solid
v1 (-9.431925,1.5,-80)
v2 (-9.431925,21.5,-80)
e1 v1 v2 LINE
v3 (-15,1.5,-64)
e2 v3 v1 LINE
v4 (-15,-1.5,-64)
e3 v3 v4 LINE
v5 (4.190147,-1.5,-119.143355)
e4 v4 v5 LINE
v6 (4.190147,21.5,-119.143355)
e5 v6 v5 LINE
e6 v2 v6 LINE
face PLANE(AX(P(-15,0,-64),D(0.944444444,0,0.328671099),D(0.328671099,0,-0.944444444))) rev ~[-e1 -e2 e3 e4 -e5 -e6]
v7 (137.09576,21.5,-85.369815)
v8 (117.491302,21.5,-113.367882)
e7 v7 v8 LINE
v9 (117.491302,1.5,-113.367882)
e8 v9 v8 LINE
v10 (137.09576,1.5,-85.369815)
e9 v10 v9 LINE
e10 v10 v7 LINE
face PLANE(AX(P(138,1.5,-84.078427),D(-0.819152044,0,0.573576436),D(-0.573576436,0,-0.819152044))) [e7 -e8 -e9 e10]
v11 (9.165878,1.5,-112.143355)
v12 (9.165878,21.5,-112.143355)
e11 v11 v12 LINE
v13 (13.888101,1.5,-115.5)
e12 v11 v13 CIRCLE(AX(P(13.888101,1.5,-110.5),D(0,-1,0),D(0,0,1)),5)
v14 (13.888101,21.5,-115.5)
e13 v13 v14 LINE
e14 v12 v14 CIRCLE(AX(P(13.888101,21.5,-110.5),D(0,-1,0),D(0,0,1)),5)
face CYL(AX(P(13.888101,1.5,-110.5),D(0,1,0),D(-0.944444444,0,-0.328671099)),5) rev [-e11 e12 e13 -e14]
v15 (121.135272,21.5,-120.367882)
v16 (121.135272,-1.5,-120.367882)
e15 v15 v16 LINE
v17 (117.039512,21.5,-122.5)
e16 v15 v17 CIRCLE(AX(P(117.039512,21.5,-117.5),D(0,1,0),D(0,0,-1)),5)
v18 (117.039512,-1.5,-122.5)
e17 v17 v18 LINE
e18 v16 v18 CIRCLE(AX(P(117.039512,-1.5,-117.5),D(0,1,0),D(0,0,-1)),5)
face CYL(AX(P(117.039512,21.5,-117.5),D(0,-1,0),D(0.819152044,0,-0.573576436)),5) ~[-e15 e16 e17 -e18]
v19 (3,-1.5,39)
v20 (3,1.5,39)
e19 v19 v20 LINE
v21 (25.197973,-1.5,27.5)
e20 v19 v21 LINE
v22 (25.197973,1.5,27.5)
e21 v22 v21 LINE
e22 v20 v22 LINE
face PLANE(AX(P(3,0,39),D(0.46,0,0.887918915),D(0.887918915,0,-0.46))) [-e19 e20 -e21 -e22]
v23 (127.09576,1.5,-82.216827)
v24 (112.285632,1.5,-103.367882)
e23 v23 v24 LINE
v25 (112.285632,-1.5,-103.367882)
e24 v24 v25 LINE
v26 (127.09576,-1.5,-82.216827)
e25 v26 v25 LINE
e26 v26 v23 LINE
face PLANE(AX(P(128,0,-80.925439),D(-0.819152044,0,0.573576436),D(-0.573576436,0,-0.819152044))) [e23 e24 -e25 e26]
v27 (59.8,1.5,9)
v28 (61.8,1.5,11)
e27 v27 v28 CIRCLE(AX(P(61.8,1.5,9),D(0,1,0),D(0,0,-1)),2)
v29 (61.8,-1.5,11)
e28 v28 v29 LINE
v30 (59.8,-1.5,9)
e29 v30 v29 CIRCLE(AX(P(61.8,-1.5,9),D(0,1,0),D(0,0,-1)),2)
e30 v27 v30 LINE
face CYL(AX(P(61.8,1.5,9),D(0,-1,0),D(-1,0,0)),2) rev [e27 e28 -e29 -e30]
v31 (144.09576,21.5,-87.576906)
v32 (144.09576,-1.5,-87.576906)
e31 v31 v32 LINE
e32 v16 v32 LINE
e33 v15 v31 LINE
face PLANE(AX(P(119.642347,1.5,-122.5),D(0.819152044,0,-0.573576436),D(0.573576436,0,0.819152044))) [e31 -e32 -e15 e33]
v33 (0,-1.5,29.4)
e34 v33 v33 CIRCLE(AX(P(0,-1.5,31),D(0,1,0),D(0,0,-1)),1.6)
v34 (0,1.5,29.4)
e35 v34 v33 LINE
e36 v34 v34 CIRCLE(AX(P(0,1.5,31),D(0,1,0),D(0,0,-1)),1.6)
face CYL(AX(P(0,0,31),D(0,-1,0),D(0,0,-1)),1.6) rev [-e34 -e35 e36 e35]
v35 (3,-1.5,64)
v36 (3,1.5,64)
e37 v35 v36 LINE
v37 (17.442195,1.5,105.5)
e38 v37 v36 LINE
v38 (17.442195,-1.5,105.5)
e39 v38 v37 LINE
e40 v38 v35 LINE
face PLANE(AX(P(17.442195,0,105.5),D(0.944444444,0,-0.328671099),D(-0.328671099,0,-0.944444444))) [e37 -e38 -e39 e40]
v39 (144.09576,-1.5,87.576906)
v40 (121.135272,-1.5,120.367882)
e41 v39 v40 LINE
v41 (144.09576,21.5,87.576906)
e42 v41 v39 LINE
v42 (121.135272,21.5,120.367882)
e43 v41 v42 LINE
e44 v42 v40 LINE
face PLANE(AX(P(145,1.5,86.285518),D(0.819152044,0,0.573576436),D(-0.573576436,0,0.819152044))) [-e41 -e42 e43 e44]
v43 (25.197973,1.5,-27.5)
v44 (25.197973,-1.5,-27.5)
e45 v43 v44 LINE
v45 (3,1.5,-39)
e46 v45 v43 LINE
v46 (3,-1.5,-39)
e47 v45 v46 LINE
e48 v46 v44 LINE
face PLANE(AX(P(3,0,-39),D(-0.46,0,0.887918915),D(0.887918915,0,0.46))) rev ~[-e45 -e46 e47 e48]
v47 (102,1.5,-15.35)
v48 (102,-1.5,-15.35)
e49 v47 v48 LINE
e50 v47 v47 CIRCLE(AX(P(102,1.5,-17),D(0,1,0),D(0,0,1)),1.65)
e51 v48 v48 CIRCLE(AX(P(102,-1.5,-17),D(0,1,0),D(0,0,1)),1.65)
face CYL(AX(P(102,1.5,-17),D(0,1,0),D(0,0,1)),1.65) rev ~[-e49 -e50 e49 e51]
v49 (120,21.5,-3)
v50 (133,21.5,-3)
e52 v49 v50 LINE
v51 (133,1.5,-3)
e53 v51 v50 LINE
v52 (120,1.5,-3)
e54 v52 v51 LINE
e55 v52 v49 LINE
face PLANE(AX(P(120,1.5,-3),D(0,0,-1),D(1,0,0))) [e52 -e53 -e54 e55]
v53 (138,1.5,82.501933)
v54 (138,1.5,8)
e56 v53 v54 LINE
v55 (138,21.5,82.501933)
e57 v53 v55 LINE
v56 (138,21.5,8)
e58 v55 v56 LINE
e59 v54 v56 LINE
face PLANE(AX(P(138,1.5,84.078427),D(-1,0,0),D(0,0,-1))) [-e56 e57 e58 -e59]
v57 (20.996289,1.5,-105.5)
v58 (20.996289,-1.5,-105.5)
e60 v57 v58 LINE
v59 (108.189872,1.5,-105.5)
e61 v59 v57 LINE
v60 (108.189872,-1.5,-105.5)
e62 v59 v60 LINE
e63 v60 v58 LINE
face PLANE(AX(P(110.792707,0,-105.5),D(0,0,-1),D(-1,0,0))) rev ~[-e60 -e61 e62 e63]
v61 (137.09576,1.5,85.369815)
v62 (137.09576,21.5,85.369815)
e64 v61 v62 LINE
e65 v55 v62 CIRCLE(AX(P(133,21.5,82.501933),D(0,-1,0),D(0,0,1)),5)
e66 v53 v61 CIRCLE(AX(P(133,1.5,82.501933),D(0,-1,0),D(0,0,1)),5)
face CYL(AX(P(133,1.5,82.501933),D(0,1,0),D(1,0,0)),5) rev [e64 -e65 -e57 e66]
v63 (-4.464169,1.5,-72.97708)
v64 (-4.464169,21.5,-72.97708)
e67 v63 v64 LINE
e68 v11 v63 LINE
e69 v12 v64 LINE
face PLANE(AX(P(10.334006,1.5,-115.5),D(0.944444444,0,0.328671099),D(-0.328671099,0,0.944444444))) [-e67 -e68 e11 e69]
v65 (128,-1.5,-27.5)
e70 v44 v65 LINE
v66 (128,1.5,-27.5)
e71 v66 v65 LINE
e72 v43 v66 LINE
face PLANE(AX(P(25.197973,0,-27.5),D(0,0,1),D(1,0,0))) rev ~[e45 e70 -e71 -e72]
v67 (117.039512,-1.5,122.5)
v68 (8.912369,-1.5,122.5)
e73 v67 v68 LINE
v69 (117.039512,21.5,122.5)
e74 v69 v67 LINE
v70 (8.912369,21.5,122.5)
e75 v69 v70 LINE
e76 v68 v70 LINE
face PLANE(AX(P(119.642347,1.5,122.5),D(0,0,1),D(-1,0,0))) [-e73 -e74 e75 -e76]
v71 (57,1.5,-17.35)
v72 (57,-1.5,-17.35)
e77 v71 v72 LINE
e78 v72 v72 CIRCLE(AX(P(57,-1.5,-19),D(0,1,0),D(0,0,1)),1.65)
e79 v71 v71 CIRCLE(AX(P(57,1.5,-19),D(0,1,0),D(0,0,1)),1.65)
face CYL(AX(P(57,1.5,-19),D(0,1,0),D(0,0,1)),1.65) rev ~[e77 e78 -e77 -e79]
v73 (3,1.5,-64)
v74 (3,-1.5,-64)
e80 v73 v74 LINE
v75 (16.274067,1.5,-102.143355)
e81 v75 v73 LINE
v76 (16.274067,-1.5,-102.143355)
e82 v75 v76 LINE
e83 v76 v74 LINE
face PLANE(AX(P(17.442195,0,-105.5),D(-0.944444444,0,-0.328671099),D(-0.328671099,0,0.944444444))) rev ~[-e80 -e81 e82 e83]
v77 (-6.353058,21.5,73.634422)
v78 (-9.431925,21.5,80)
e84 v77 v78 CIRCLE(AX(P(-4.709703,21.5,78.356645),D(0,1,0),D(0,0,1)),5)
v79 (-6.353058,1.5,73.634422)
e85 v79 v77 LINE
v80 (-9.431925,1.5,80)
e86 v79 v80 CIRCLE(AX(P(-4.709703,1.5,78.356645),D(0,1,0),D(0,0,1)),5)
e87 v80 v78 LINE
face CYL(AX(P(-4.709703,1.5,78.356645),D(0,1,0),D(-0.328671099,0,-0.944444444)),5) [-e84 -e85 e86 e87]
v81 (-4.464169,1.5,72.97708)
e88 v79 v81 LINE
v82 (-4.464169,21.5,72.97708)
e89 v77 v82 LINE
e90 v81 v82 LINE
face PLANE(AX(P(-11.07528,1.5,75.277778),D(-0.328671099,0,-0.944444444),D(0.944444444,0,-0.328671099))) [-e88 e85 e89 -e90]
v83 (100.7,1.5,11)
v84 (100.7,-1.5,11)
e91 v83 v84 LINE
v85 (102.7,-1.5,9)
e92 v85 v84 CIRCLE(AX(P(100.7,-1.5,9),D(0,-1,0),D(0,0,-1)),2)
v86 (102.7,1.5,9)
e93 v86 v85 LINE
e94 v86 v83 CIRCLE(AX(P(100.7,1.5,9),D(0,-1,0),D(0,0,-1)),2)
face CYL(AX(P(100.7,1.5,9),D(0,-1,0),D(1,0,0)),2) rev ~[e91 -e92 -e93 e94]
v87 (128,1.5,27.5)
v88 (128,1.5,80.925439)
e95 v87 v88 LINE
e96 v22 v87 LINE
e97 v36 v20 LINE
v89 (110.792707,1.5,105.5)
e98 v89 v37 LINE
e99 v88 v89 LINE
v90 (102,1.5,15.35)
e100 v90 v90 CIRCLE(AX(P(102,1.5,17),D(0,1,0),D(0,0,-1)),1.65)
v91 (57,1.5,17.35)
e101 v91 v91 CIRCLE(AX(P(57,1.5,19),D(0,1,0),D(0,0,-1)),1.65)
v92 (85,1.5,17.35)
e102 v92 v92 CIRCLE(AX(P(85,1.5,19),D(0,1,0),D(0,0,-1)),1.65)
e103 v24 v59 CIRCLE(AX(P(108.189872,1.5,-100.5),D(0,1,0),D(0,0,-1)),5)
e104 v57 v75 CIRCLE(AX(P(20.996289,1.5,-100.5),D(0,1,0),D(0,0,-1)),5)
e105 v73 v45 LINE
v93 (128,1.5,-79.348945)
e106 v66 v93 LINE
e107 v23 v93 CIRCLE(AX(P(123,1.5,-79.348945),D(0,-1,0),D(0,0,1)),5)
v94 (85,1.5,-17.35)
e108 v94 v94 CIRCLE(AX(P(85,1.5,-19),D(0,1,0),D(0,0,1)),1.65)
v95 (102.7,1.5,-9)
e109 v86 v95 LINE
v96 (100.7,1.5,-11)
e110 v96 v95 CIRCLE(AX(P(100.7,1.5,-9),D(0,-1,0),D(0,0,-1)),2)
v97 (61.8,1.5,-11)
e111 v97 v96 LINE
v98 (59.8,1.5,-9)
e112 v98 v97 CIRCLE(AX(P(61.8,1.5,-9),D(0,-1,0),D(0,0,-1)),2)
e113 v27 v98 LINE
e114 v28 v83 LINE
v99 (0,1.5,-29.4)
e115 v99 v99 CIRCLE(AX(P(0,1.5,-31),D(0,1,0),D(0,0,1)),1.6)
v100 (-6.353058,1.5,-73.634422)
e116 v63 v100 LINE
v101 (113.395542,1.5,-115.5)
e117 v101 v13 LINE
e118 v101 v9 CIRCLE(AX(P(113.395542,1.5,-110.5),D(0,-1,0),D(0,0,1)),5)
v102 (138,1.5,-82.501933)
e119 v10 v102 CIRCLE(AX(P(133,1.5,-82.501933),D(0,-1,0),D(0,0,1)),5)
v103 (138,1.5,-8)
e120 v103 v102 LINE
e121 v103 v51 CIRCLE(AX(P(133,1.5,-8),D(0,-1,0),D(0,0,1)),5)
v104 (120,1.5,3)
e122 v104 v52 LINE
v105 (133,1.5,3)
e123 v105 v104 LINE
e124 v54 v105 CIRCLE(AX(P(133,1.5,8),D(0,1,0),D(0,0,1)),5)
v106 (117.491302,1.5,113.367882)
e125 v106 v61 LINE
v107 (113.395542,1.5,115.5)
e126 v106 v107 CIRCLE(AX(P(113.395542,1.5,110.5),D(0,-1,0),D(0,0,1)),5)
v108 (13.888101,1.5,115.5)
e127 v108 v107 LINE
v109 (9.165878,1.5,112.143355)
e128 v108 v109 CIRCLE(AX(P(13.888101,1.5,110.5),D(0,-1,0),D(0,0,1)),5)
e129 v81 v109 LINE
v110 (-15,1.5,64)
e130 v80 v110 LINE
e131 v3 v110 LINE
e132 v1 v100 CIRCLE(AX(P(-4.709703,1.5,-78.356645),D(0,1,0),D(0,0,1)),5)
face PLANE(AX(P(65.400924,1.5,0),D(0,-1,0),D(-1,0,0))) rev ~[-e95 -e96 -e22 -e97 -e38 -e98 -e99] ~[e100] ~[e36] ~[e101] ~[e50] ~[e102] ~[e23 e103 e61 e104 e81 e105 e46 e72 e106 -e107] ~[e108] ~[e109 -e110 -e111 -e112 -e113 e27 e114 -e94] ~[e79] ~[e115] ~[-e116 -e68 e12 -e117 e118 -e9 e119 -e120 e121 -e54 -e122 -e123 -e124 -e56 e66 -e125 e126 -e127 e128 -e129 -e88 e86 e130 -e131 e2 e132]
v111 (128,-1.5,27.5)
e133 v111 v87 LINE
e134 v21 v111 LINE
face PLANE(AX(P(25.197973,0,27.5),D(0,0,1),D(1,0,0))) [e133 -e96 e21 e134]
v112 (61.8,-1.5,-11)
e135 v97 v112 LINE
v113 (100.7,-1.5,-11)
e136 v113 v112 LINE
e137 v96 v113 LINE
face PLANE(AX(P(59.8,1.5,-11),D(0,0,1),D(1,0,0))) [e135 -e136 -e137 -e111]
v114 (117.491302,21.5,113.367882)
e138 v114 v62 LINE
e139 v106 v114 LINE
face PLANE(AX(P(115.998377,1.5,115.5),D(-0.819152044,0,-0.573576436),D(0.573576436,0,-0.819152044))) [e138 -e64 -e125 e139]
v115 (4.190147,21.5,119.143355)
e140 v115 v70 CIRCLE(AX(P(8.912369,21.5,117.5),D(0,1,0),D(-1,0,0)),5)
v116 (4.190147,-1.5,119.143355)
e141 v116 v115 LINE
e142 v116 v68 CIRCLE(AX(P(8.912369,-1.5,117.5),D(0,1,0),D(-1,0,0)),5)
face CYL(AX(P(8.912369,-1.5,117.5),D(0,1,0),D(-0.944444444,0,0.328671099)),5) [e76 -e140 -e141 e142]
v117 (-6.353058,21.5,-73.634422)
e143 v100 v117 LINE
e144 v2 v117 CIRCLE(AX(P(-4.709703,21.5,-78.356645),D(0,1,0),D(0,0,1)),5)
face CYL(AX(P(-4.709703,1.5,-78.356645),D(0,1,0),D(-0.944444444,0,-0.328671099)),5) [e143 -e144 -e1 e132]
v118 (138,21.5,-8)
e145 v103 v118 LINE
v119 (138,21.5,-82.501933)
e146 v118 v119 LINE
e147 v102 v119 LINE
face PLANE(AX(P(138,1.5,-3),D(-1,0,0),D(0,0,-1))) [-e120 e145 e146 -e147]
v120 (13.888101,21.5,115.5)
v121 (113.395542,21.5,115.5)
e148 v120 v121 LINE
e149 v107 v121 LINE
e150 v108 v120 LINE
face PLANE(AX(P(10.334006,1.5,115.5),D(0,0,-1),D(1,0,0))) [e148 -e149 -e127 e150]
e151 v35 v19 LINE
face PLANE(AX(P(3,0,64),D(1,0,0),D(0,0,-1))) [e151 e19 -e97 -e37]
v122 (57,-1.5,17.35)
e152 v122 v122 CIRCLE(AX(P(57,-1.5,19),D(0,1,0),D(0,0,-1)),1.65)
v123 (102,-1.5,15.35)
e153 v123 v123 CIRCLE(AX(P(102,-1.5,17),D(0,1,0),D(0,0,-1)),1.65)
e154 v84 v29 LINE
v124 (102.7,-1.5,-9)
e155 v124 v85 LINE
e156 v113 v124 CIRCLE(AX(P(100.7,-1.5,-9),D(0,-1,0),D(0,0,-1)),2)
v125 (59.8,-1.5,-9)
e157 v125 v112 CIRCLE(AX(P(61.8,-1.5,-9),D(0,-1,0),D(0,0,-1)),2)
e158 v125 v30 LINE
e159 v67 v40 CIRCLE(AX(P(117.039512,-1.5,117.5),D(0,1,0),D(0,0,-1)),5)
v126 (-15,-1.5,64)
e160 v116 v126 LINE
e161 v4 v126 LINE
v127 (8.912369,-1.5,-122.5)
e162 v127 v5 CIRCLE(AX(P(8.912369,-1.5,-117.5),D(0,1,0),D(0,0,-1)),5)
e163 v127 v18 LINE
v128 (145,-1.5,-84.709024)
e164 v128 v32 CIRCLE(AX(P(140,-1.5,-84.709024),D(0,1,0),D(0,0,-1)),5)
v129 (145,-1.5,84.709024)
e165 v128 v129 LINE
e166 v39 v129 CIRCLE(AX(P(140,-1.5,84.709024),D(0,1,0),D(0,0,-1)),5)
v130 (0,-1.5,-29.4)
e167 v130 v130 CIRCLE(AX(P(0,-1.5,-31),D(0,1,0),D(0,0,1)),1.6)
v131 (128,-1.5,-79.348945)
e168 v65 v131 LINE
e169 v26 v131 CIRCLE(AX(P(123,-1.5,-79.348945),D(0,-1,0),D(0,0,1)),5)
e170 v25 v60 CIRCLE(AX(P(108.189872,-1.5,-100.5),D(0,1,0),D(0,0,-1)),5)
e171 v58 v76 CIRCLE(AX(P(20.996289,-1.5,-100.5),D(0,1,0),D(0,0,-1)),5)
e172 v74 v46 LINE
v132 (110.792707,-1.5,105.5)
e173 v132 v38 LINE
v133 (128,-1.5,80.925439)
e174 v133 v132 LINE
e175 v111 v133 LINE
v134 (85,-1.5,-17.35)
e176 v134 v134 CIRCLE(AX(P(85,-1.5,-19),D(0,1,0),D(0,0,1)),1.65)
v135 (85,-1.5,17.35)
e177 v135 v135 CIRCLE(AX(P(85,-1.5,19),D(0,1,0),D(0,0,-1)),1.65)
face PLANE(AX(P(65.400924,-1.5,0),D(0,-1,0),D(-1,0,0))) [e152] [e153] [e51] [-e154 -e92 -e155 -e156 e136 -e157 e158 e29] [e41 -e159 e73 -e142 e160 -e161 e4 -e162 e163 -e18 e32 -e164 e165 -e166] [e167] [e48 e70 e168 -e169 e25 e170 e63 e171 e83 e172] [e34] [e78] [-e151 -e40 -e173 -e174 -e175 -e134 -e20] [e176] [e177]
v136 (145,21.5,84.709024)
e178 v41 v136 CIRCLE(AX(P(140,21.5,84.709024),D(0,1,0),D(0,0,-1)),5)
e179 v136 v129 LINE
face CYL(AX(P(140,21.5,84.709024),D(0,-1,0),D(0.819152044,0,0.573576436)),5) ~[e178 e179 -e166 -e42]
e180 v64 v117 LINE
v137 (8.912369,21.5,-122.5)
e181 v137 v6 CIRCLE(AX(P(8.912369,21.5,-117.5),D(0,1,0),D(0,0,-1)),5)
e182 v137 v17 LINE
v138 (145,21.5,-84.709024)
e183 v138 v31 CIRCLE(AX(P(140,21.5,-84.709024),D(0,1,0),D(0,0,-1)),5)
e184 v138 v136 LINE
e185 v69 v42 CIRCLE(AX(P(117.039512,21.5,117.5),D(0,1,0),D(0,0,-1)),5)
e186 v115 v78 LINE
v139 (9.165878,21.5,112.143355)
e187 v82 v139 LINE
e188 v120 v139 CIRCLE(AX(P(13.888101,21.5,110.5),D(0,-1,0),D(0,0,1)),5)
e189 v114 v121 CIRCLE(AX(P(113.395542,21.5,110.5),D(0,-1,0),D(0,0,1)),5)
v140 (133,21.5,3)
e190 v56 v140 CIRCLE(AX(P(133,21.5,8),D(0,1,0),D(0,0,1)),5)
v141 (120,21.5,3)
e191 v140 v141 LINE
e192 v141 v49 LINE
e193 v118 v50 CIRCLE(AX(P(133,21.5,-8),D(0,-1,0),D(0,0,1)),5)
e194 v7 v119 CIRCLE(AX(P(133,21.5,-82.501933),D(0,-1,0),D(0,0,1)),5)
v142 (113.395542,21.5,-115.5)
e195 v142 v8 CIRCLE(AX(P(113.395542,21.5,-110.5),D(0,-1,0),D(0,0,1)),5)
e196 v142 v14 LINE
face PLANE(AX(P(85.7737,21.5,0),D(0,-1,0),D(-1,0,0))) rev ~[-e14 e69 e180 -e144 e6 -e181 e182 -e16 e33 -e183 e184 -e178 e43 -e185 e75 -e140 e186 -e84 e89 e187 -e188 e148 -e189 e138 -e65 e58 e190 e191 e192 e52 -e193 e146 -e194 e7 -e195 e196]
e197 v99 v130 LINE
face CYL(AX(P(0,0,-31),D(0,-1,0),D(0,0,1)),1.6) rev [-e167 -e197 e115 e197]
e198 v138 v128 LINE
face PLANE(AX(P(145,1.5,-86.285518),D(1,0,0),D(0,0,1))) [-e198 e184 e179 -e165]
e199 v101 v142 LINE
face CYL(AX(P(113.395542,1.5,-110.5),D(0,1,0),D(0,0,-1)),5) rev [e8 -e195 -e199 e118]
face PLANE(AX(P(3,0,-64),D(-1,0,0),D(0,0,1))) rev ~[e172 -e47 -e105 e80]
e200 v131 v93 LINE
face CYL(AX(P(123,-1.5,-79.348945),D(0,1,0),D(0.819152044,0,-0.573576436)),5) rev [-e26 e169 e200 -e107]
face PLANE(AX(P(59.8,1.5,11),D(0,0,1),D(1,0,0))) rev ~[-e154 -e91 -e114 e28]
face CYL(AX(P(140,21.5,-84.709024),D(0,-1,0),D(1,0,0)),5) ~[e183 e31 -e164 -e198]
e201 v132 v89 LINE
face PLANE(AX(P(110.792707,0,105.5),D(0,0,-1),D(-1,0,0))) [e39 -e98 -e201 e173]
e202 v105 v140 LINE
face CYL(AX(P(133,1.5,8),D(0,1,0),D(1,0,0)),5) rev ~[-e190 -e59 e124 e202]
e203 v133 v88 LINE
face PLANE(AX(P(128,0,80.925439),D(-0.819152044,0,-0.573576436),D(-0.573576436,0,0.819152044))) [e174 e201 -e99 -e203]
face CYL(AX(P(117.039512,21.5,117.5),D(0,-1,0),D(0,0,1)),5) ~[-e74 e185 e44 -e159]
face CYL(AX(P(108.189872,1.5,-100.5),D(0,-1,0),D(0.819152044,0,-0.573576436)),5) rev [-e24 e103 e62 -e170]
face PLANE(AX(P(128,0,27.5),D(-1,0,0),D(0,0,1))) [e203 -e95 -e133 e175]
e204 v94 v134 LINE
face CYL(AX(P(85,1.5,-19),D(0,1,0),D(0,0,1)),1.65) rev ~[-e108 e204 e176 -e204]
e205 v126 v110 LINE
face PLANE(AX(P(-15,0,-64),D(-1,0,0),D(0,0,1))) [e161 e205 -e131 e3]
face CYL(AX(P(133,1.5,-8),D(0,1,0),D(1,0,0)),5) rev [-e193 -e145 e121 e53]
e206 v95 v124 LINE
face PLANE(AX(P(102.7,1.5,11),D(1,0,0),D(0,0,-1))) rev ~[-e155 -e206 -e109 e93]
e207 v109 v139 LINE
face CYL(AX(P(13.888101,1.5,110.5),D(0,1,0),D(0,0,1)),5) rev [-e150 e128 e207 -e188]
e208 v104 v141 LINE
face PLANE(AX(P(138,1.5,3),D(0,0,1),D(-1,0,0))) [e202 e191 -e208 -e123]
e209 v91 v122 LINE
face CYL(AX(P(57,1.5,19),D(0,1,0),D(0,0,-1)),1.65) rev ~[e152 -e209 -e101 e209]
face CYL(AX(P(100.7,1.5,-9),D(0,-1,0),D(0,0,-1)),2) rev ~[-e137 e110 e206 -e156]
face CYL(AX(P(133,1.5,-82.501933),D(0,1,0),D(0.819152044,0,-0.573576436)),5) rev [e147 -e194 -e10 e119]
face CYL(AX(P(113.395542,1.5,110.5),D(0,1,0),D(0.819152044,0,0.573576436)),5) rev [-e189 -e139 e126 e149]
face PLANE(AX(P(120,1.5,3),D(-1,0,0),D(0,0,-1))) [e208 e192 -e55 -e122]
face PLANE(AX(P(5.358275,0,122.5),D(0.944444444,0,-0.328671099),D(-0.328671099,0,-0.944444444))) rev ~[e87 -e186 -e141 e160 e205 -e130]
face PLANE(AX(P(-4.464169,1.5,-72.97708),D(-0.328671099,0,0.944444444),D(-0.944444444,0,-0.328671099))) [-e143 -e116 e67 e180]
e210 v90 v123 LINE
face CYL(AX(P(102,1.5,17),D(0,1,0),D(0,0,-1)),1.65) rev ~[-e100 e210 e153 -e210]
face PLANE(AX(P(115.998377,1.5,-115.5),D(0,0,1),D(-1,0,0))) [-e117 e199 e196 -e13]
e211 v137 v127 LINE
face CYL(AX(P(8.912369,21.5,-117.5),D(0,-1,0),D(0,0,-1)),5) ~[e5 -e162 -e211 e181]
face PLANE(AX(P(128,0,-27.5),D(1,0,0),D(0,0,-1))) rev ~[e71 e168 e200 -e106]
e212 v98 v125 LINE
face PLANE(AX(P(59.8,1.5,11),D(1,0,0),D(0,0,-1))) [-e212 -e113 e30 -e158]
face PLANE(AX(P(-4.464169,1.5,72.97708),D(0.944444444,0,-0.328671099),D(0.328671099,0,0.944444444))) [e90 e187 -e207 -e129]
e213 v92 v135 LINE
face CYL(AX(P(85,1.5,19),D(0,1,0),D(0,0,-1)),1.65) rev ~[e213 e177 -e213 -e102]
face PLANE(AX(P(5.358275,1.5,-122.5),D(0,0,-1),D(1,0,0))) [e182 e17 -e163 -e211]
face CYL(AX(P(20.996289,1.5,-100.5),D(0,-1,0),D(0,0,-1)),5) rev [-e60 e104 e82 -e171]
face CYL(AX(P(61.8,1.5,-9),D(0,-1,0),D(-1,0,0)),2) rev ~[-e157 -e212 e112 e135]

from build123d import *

# Parameters (mm, degrees)
SKETCH1_R           = 1.5999999999999992
SKETCH1_R_2         = 1.6
BOSS_EXTRUDE1_DEPTH = 1.5
BOSS_EXTRUDE2_DEPTH = 20
FILLET1_R           = 5
SKETCH2_R           = 1.6500000000000017
SKETCH2_W           = 42.900000000000006
SKETCH2_H           = 21.999999999999993
CUT_EXTRUDE1_DEPTH  = 191.86971996626394
FILLET2_R           = 2


with BuildPart() as part:
    # Sketch1 → Boss-Extrude1 (new, symmetric)
    with BuildSketch(Plane(origin=(0, 0, 0), x_dir=(1, 0, 0), z_dir=(0, 1, 0))):
        Polygon((-15, -39), (-15, 39), (-14.999999999999993, 64), (5.358274547724965, 122.5), (119.64234676884817, 122.50000000000003), (145.00000000000003, 86.28551808227317), (145.00000000000003, -86.28551808227317), (119.64234676884817, -122.50000000000003), (5.358274547725049, -122.49999999999999), (-14.999999999999993, -64), align=None)
        with Locations(Location((0, 31, 0), (0, 0, 270))):
            Circle(SKETCH1_R, mode=Mode.SUBTRACT)
        with Locations(Location((0, -31, 0), (0, 0, 90))):
            Circle(SKETCH1_R_2, mode=Mode.SUBTRACT)
        Polygon((25.197972880423116, 27.499999999999996), (128, 27.499999999999996), (128, 80.92543867133034), (110.7927069094685, 105.50000000000004), (17.442194764625423, 105.50000000000001), (3.0000000000000027, 64), (3.0000000000000027, 39), align=None, mode=Mode.SUBTRACT)
        Polygon((25.197972880423116, -27.499999999999996), (128, -27.499999999999996), (128, -80.92543867133034), (110.7927069094685, -105.50000000000004), (17.442194764625537, -105.49999999999999), (3.0000000000000027, -64), (3.0000000000000027, -39), align=None, mode=Mode.SUBTRACT)
    extrude(amount=BOSS_EXTRUDE1_DEPTH, both=True)

    # Sketch3 → Boss-Extrude2 (add)
    with BuildSketch(Plane(origin=(0, 1.5, 0), x_dir=(1, 0, 0), z_dir=(0, 1, 0))):
        Polygon((120.00000000000004, -2.999999999999993), (120.00000000000004, 3.0000000000000075), (138, 3.0000000000000075), (138, 84.07842656012029), (115.99837741498601, 115.49999999999999), (10.334006401742785, 115.49999999999997), (-4.464169294218266, 72.97708008435012), (-11.07528040532939, 75.27777777777771), (5.358274547724965, 122.5), (119.64234676884817, 122.50000000000003), (145.00000000000003, 86.28551808227317), (145.00000000000003, -86.28551808227317), (119.64234676884817, -122.50000000000003), (5.358274547724965, -122.5), (-11.075280405329384, -75.27777777777771), (-4.464169294218257, -72.97708008435012), (10.334006401742798, -115.49999999999997), (115.99837741498602, -115.49999999999996), (138, -84.07842656012026), (138, -2.999999999999991), align=None)
    extrude(amount=BOSS_EXTRUDE2_DEPTH)

    # Fillet1
    fillet1_edges = [part.edges().sort_by_distance(p)[0] for p in [
        (115.99837741498602, 11.5, 115.49999999999996),
        (10.334006401742798, 11.5, 115.49999999999997),
        (-11.075280405329384, 11.5, 75.27777777777771),
        (-11.07528040532939, 11.5, -75.27777777777771),
        (10.334006401742785, 11.5, -115.49999999999997),
        (115.99837741498601, 11.5, -115.49999999999999),
        (138, 11.5, -84.07842656012029),
        (5.358274547724965, 10, -122.5),
        (119.64234676884817, 10, -122.50000000000003),
        (145.00000000000003, 10, -86.28551808227317),
        (145.00000000000003, 10, 86.28551808227317),
        (119.64234676884817, 10, 122.50000000000003),
        (5.358274547725006, 10, 122.5),
        (128, 0, -80.92543867133034),
        (110.7927069094685, 0, -105.50000000000004),
        (17.442194764625423, 0, -105.50000000000001),
        (138, 11.5, -3.0000000000000075),
        (138, 11.5, 2.999999999999991),
        (138, 11.5, 84.07842656012026),
    ]]
    fillet(fillet1_edges, radius=FILLET1_R)

    # Sketch2 → Cut-Extrude1 (cut, through all)
    with BuildSketch(Plane(origin=(0, 1.5, 0), x_dir=(1, 0, 0), z_dir=(0, 1, 0))):
        with Locations(Location((56.999999999999964, 18.99999999999999, 0), (0, 0, 270))):
            Circle(SKETCH2_R)
        with Locations(Location((84.99999999999997, 18.999999999999993, 0), (0, 0, 270))):
            Circle(SKETCH2_R)
        with Locations(Location((101.99999999999999, 16.999999999999996, 0), (0, 0, 270))):
            Circle(SKETCH2_R)
        with Locations(Location((101.99999999999999, -16.999999999999996, 0), (0, 0, 90))):
            Circle(SKETCH2_R)
        with Locations(Location((84.99999999999997, -18.999999999999993, 0), (0, 0, 90))):
            Circle(SKETCH2_R)
        with Locations(Location((56.999999999999964, -18.99999999999999, 0), (0, 0, 90))):
            Circle(SKETCH2_R)
        with Locations((81.24999999999999, 3.819e-14)):
            Rectangle(SKETCH2_W, SKETCH2_H)
    extrude(amount=-CUT_EXTRUDE1_DEPTH, mode=Mode.SUBTRACT)

    # Fillet2
    fillet2_edges = [part.edges().sort_by_distance(p)[0] for p in [
        (59.79999999999998, 0, -11.000000000000036),
        (102.69999999999999, 0, -11.000000000000036),
        (102.69999999999999, 0, 10.99999999999996),
        (59.79999999999998, 0, 10.99999999999996),
    ]]
    fillet(fillet2_edges, radius=FILLET2_R)


solid = part.part
